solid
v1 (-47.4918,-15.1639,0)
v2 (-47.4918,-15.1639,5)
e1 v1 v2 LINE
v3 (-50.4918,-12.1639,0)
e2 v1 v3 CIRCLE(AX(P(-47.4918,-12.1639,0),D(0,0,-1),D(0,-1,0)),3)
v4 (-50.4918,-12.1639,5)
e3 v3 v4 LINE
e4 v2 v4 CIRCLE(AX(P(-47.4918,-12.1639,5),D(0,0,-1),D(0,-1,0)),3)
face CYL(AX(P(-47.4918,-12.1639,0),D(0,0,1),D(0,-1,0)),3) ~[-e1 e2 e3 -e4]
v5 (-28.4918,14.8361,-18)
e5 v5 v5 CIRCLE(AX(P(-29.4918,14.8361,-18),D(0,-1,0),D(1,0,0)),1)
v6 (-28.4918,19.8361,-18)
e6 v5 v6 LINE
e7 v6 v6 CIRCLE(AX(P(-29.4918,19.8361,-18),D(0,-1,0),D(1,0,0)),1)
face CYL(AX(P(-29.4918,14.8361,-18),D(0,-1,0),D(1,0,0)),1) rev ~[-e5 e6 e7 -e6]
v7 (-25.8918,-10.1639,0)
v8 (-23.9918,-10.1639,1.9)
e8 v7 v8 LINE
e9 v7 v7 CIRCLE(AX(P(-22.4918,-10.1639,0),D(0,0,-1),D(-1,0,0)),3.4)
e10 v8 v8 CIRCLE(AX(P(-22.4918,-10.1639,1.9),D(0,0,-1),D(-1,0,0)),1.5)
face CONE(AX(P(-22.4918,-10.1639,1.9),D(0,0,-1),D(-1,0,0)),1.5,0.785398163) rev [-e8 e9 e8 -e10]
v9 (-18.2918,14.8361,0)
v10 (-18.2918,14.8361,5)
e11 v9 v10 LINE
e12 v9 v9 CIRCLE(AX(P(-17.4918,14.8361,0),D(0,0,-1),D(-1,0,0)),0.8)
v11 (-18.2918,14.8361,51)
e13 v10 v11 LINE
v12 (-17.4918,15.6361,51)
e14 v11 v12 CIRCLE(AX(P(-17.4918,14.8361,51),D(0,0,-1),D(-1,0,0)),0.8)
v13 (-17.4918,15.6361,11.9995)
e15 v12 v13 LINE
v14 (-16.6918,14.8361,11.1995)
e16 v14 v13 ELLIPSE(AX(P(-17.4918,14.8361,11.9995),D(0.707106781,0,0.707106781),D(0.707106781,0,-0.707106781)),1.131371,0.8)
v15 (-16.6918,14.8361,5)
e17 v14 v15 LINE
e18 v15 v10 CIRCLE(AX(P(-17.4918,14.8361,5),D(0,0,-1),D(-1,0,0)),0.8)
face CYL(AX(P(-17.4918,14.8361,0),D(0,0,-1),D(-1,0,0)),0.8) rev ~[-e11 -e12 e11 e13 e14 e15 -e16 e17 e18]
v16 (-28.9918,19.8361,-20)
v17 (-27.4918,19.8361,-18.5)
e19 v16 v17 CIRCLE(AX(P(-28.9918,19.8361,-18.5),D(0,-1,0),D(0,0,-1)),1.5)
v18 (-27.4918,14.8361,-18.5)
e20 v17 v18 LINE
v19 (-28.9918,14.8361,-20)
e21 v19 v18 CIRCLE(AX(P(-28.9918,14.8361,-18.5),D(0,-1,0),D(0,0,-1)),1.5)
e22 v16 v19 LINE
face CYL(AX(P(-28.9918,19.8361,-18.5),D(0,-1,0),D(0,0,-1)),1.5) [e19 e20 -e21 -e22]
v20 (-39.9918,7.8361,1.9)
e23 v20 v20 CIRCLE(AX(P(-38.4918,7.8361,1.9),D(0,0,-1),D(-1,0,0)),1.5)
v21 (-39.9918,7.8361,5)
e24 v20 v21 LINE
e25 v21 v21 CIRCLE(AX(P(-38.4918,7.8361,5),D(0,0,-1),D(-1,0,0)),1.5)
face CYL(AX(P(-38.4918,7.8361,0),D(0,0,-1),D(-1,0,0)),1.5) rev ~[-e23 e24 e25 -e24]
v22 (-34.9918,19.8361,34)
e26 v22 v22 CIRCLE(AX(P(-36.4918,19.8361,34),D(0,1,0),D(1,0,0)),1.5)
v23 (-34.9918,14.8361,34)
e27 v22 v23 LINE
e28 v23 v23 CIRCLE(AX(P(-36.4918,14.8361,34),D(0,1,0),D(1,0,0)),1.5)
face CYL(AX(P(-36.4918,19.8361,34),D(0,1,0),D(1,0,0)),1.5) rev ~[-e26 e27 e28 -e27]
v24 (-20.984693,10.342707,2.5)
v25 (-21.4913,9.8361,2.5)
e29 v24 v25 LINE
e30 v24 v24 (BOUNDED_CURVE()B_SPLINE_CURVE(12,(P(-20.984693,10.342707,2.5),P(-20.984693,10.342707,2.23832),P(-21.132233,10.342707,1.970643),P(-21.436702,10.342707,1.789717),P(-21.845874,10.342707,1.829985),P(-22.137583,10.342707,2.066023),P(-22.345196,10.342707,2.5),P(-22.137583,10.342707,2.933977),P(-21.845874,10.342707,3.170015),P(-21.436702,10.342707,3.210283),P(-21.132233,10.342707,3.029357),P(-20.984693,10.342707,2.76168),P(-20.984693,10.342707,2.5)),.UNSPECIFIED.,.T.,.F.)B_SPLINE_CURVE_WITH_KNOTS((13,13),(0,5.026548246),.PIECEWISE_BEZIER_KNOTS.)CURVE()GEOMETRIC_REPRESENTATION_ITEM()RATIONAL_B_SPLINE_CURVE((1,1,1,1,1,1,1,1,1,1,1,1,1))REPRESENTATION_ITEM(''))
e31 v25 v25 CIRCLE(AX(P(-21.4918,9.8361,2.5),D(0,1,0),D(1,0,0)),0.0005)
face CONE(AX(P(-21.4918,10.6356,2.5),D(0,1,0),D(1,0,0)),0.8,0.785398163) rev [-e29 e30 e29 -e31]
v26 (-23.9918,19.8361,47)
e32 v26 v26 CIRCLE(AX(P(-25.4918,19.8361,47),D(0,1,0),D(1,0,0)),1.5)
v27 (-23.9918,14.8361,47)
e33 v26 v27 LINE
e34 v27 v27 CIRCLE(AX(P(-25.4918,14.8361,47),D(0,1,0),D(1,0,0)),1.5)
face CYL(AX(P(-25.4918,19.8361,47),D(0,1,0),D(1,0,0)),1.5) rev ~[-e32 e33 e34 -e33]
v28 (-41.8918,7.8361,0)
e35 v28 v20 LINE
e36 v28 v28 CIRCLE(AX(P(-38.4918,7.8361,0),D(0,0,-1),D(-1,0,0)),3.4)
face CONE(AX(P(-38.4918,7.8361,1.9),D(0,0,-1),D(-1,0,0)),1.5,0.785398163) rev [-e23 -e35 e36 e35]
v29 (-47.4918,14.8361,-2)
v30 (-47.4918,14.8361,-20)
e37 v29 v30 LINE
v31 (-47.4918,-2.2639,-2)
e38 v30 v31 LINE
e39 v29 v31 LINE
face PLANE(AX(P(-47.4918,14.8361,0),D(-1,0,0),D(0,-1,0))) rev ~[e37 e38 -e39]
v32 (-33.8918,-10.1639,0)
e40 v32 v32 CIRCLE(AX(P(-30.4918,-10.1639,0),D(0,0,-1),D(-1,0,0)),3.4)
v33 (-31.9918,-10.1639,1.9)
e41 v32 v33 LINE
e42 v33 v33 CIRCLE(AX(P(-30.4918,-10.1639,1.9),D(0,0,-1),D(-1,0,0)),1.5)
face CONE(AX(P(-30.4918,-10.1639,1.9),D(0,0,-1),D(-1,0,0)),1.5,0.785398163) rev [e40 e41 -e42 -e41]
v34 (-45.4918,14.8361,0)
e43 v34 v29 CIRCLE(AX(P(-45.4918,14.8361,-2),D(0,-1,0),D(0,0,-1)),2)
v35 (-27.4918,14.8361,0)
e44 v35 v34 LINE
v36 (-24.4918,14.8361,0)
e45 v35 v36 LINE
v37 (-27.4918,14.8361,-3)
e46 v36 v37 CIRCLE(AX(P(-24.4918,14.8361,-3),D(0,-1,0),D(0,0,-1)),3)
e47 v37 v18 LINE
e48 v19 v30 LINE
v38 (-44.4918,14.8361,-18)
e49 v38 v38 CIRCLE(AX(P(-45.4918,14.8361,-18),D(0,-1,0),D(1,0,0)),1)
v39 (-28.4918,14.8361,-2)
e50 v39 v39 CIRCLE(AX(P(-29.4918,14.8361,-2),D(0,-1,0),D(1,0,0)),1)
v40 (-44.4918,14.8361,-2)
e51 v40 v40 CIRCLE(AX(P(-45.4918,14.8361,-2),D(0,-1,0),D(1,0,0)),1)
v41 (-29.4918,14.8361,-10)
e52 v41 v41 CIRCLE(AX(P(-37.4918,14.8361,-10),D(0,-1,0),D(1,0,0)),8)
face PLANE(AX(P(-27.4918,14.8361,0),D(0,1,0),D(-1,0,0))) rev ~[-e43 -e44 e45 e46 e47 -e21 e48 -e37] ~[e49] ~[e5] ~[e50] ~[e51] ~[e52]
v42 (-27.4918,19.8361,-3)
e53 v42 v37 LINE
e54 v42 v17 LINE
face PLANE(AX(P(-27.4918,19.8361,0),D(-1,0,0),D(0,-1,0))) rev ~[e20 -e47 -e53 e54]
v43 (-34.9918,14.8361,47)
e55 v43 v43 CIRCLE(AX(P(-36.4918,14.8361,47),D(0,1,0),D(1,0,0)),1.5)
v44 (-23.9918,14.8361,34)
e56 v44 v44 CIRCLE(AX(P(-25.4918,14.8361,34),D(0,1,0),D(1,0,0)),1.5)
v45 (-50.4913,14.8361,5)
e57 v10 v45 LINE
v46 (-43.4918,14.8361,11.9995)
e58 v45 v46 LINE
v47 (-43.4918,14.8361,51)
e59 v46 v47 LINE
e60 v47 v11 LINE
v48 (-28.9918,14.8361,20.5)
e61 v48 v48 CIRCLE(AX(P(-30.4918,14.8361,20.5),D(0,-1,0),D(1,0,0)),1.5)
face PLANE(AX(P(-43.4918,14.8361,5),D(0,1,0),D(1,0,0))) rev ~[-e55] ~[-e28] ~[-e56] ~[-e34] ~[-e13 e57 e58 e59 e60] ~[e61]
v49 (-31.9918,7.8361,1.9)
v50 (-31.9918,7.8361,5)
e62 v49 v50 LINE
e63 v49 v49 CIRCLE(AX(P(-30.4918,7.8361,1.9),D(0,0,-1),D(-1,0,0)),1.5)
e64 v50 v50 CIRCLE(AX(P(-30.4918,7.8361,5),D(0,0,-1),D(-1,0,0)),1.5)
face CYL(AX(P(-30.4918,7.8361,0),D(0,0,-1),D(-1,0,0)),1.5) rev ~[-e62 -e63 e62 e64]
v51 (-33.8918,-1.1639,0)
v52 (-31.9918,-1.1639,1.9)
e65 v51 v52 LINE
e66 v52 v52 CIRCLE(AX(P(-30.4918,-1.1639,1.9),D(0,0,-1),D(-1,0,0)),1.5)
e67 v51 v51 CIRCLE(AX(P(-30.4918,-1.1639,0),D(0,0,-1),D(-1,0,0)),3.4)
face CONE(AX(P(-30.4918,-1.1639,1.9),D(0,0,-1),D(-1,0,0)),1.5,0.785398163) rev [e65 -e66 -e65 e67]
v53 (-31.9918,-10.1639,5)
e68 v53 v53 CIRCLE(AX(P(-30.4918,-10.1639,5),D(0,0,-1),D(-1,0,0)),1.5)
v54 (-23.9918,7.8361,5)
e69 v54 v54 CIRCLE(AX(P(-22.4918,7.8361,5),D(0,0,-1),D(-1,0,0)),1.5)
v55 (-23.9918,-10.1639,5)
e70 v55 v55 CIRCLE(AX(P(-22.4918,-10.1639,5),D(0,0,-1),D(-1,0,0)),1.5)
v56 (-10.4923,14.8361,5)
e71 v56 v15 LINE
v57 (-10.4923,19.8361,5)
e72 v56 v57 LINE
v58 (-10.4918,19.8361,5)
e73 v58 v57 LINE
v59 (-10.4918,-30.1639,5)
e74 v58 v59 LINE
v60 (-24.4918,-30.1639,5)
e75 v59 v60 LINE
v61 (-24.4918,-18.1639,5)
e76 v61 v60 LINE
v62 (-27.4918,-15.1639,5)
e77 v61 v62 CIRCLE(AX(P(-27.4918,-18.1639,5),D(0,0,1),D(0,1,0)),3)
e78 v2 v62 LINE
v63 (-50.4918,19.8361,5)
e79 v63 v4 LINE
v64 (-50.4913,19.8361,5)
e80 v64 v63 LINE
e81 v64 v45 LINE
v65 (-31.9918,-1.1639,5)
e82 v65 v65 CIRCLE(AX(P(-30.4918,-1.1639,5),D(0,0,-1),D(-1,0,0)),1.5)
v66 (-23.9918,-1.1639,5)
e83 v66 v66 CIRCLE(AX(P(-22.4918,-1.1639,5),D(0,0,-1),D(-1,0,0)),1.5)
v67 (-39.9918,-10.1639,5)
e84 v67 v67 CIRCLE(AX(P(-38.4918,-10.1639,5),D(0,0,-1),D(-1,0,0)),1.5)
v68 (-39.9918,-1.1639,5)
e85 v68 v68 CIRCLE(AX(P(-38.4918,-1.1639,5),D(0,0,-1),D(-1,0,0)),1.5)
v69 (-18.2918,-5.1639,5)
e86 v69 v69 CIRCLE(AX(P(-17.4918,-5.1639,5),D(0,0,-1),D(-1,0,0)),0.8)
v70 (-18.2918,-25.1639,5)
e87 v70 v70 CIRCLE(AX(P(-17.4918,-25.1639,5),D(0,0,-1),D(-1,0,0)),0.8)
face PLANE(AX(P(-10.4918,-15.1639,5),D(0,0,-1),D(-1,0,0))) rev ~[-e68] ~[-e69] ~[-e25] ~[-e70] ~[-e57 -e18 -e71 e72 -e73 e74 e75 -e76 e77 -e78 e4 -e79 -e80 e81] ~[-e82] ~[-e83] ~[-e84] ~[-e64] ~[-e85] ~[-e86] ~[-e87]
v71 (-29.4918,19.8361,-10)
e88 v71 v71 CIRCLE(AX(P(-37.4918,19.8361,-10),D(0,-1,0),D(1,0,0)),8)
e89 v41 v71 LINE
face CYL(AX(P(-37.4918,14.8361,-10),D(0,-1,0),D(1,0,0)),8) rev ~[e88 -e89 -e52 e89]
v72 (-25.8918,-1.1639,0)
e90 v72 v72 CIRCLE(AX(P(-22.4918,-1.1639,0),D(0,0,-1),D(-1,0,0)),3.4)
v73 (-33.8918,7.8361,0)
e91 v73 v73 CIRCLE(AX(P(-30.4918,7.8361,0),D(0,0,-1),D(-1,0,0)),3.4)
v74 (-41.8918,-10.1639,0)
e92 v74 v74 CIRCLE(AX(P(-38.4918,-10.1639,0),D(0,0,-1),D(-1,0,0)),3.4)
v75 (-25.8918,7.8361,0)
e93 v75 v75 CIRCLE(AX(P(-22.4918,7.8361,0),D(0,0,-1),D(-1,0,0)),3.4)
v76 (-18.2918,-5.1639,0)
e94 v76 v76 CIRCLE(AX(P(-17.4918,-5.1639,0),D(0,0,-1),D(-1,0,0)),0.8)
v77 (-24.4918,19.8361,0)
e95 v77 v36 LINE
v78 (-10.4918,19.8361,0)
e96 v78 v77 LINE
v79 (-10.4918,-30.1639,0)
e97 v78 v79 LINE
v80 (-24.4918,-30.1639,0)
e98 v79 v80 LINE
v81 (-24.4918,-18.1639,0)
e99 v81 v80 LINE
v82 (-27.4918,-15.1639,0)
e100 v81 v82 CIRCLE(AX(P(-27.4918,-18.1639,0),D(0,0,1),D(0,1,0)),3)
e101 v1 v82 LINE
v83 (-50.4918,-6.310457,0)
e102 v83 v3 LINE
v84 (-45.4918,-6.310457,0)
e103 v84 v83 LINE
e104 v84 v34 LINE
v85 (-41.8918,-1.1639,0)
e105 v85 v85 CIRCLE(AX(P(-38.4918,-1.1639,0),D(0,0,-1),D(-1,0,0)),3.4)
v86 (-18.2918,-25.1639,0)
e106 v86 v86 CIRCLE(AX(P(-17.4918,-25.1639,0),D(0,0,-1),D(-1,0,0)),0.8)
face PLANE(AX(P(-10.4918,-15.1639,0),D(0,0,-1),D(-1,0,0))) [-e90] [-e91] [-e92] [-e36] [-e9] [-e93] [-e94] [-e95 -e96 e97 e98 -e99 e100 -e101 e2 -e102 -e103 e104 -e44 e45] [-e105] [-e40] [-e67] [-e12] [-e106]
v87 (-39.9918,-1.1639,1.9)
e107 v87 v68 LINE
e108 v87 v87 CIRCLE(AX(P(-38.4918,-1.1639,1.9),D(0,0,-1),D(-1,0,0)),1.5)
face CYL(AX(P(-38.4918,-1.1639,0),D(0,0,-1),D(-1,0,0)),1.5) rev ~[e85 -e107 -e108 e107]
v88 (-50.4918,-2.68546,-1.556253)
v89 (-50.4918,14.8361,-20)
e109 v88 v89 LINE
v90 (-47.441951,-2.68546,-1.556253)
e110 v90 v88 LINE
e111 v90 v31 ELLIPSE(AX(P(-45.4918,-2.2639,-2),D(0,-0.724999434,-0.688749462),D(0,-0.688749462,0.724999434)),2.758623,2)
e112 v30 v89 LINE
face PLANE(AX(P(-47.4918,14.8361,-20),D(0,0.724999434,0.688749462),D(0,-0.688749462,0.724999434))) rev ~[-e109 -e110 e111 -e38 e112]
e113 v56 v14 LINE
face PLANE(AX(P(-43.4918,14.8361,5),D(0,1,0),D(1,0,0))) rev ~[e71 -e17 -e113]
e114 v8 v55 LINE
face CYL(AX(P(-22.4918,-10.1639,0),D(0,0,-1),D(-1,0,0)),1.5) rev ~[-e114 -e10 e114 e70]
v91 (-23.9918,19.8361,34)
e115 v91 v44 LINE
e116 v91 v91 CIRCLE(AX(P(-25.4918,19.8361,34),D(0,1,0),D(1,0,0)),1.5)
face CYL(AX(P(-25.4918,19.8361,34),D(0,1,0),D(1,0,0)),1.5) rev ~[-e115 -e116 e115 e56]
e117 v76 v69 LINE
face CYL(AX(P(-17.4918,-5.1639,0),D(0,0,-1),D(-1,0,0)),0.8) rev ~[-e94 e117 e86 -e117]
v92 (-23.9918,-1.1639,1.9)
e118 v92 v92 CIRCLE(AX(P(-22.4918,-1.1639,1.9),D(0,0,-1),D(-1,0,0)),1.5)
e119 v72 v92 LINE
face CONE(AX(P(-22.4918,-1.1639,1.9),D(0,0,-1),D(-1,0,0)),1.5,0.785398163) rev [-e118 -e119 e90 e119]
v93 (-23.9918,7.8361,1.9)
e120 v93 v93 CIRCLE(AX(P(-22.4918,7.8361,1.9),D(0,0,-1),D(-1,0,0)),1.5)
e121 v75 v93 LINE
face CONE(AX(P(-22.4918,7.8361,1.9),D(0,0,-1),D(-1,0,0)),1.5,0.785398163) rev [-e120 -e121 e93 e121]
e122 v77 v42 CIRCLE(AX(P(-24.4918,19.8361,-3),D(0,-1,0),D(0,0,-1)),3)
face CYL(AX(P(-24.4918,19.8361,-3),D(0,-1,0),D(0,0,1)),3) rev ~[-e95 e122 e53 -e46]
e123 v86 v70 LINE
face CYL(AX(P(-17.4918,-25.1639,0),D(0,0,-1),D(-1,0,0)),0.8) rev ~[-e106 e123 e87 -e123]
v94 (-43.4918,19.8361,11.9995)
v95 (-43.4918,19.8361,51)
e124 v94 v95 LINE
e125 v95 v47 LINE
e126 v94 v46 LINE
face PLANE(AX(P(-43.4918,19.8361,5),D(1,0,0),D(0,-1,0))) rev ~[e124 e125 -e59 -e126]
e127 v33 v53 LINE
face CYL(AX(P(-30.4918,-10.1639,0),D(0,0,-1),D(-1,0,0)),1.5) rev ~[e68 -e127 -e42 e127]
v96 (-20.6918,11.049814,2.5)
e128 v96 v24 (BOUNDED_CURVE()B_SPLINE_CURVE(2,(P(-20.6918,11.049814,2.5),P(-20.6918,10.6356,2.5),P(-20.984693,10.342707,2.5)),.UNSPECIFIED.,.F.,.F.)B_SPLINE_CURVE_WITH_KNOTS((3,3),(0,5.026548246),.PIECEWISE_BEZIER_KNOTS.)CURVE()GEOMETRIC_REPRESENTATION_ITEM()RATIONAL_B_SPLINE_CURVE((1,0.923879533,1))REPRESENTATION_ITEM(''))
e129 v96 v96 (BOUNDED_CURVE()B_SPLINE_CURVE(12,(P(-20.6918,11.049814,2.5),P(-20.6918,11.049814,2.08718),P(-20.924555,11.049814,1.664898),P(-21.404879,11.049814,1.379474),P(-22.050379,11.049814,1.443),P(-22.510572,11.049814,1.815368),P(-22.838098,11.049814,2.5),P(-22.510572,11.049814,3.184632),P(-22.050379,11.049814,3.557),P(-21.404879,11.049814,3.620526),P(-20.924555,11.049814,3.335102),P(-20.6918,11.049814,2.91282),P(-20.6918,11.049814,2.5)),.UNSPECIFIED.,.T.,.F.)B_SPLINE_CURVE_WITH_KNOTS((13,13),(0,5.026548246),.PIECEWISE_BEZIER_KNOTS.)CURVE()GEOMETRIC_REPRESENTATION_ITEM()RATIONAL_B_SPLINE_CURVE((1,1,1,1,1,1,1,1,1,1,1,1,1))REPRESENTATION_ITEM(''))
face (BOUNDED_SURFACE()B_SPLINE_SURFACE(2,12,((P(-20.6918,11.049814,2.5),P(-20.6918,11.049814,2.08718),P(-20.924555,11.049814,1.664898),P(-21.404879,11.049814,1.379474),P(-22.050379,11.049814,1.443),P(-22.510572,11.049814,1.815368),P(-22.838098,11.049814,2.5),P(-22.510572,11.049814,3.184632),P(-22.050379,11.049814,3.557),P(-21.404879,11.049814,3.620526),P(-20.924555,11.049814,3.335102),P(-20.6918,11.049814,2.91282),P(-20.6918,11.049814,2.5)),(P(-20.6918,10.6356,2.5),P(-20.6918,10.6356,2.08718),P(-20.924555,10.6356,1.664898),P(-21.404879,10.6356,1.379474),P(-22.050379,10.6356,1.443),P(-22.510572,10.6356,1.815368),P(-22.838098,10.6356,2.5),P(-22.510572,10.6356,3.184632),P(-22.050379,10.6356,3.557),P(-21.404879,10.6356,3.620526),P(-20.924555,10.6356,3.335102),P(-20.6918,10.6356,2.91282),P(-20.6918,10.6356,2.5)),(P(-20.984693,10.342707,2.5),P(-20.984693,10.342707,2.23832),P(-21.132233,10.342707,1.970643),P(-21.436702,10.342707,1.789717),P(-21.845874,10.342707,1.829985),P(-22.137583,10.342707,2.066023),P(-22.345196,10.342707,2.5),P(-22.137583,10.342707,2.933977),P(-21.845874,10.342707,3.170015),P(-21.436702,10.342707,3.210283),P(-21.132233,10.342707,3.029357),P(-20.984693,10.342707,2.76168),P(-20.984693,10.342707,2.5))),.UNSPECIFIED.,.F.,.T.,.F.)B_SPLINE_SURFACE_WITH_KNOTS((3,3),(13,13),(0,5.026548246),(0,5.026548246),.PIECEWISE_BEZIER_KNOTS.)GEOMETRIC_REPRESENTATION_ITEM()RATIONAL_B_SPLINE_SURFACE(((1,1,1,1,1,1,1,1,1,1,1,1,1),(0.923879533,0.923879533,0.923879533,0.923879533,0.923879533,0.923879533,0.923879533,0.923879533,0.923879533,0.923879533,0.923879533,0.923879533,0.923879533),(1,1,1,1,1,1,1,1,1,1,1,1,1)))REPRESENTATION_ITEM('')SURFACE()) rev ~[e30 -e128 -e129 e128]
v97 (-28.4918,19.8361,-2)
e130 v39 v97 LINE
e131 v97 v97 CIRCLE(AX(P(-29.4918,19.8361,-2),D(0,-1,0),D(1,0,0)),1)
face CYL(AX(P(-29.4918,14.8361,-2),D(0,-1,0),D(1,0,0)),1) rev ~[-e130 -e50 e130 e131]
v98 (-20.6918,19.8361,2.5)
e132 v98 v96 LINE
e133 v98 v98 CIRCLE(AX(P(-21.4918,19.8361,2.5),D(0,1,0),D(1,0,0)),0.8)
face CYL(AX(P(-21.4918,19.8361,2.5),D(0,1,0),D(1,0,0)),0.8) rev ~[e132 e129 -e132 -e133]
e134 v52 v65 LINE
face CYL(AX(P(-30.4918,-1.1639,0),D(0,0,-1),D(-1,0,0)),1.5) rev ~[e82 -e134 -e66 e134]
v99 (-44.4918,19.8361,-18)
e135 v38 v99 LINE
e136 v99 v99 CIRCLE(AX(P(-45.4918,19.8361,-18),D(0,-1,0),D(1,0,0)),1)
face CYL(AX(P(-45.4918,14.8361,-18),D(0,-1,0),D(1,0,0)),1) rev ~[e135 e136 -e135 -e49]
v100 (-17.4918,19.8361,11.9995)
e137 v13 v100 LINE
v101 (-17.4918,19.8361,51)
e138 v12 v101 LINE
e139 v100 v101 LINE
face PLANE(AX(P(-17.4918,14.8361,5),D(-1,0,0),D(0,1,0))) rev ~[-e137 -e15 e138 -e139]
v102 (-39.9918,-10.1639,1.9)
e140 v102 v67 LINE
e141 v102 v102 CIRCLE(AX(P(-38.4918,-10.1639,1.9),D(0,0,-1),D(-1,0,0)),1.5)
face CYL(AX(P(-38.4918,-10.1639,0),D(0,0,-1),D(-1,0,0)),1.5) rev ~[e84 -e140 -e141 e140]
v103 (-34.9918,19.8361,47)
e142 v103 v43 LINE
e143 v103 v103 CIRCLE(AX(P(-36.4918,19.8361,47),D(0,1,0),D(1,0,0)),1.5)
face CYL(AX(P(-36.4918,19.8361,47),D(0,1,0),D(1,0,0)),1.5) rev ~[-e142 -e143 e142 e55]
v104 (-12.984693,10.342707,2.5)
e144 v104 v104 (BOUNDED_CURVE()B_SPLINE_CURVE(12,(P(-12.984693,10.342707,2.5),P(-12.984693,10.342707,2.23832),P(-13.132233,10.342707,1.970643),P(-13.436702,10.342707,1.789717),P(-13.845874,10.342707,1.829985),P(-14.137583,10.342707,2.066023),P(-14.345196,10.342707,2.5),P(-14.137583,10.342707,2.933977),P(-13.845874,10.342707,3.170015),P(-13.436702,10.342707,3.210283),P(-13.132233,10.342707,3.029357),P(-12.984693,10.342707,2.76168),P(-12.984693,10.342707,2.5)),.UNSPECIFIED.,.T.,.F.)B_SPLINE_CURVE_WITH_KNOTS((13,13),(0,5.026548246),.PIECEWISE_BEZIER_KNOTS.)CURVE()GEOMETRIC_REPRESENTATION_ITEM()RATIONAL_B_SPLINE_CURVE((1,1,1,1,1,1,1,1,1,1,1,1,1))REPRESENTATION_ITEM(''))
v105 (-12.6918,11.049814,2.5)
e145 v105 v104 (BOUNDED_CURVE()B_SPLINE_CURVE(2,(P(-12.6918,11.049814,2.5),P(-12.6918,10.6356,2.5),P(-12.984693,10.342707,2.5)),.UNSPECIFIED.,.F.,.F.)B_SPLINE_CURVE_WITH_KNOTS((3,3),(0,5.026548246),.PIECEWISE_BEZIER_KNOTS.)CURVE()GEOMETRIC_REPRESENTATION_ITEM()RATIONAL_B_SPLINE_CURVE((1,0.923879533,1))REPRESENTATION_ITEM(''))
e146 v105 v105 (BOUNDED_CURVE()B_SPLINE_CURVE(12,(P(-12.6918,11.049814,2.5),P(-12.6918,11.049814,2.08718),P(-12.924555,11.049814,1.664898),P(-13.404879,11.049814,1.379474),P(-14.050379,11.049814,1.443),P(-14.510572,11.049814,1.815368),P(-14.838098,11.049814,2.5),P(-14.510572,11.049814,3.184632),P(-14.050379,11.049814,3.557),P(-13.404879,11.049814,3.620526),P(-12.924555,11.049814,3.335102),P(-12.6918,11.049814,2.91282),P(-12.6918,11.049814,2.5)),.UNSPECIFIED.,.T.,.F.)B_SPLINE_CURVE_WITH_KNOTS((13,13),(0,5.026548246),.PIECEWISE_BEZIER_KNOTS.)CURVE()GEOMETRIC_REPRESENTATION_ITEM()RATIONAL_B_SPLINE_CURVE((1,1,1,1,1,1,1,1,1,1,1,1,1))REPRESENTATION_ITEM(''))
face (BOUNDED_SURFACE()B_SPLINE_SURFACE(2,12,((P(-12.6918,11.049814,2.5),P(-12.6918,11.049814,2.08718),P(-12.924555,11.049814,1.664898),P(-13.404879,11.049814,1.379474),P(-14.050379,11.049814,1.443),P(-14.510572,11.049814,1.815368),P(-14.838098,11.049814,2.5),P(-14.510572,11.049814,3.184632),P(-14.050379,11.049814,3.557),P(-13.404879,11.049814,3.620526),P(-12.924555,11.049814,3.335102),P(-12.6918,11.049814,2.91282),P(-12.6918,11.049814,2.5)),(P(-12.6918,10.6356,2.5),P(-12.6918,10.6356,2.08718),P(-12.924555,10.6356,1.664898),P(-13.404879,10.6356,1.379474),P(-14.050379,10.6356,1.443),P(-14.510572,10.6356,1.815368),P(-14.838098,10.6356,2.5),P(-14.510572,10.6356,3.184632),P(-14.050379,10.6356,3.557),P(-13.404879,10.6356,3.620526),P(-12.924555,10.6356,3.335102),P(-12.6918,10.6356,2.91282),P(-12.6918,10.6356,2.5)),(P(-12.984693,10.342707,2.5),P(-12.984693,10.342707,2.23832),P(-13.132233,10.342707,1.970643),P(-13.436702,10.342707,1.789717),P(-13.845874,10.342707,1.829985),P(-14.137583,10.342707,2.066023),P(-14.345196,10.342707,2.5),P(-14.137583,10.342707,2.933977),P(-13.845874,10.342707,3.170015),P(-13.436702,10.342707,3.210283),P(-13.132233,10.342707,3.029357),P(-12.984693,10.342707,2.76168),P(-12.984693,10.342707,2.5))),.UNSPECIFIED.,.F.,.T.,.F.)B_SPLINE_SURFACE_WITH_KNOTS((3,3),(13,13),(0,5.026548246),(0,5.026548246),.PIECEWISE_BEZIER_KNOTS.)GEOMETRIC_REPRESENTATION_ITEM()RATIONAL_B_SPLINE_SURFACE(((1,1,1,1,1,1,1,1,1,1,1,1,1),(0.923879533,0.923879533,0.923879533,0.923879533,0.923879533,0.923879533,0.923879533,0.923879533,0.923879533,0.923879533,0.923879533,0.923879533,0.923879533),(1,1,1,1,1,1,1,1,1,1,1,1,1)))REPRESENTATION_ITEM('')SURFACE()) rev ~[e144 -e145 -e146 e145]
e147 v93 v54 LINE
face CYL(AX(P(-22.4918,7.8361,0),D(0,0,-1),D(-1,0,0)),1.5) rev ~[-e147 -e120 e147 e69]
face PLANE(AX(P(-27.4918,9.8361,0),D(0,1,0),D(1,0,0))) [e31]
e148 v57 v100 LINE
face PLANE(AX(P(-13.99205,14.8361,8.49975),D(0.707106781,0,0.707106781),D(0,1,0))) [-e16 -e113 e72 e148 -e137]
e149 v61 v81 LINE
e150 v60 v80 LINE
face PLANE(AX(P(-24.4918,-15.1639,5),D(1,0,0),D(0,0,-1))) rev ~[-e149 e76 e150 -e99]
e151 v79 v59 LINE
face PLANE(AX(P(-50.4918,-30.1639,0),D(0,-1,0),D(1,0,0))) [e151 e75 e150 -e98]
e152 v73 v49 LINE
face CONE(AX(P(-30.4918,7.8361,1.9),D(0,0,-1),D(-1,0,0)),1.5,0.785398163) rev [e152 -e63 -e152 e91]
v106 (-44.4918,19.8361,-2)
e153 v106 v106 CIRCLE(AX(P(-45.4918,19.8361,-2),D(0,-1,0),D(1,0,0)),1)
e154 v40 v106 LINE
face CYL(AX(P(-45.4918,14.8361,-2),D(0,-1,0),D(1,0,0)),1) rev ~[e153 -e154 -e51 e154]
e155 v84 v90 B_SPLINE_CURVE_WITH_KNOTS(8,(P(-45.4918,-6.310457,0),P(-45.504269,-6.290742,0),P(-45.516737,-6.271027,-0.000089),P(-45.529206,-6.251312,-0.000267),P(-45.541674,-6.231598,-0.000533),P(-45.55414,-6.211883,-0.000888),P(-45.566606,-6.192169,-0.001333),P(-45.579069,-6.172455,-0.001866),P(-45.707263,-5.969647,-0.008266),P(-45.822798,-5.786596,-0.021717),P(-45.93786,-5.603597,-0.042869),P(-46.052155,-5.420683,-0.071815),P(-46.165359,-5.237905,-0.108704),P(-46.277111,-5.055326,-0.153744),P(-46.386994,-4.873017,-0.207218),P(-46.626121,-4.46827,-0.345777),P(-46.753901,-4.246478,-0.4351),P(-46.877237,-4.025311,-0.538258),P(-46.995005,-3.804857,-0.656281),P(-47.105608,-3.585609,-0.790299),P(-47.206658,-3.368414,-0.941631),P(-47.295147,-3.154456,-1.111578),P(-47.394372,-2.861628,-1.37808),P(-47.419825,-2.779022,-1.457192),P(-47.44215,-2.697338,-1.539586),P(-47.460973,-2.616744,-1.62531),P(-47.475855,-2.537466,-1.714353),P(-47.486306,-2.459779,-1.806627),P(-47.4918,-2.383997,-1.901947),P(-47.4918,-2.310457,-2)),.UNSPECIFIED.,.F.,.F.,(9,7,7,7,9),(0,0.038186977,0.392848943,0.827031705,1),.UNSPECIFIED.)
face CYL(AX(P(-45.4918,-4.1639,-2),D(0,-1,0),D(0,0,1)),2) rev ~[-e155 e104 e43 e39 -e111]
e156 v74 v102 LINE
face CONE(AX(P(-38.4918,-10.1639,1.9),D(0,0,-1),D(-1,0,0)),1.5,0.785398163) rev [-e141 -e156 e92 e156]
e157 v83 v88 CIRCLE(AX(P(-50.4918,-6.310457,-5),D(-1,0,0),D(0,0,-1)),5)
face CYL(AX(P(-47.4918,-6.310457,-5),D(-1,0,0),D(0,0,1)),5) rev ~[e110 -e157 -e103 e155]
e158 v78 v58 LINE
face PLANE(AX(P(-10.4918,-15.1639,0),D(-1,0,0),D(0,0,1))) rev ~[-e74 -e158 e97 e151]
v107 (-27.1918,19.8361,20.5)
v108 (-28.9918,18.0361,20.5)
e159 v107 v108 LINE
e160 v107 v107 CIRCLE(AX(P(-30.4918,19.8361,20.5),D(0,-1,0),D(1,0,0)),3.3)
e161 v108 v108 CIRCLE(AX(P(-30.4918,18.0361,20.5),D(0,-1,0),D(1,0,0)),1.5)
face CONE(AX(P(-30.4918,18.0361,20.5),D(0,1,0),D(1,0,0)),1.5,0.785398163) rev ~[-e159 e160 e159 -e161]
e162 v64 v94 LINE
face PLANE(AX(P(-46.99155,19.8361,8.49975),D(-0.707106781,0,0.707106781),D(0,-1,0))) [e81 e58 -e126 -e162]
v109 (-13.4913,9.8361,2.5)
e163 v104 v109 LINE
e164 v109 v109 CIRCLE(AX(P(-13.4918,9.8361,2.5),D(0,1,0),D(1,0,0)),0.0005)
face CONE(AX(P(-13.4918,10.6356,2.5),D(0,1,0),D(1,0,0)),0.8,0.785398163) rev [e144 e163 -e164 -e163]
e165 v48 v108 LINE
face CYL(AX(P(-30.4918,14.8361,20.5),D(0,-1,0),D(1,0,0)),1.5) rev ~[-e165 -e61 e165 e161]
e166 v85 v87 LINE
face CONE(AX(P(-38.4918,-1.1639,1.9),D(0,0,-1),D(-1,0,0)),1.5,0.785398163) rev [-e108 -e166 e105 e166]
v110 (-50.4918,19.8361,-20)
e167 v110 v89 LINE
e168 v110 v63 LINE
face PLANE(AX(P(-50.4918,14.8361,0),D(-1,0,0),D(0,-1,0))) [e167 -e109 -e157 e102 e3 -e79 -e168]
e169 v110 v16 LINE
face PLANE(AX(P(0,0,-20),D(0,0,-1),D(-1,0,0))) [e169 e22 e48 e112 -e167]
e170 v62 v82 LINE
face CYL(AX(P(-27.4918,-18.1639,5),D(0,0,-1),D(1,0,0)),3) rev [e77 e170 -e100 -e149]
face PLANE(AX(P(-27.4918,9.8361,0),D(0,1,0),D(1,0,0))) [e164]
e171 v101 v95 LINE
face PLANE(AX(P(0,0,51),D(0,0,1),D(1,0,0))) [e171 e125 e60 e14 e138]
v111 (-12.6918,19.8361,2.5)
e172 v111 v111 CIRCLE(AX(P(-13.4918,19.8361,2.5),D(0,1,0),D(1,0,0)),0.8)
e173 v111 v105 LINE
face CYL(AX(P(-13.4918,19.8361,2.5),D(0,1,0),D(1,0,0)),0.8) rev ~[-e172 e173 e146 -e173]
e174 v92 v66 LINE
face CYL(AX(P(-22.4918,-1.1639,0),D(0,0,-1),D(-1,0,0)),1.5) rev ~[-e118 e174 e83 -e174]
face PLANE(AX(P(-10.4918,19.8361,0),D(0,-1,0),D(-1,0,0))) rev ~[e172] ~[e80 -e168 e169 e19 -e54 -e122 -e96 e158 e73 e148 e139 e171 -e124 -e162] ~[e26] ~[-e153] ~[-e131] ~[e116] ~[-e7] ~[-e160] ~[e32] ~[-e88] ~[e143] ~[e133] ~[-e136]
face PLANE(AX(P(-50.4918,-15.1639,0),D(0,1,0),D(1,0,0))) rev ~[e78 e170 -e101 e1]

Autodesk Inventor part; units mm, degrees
ref_plane "YZ Plane" through (0, 0, 0) normal (1, 0, 0) x (0, 1, 0)
ref_plane "XZ Plane" through (0, 0, 0) normal (0, 1, 0) x (-1, 0, 0)
ref_plane "XY Plane" through (0, 0, 0) normal (0, 0, 1) x (1, 0, 0)
sketch "Sketch1" plane through (0, 0, 0) normal (0, 0, 1) x (1, 0, 0)
  line L0 (-10.4918, 19.8361) -> (-50.4918, 19.8361)
  line L1 (-50.4918, 19.8361) -> (-50.4918, -15.1639)
  line L2 (-50.4918, -15.1639) -> (-10.4918, -15.1639)
  line L3 (-10.4918, -15.1639) -> (-10.4918, 19.8361)
  point P0 (0, 0)
  dimension "d0" = 40
  dimension "d1" = 35
extrude "Extrusion1" add sketch "Sketch1" along normal blind 5
sketch "Sketch2" plane through (0, 0, 0) normal (0, 0, -1) x (-1, 0, 0)
  line L0 (50.4918, 19.8361) -> (50.4918, -15.1639) projected
  line L1 (50.4918, 19.8361) -> (27.4918, 19.8361)
  line L2 (27.4918, 19.8361) -> (27.4918, 14.8361)
  line L3 (27.4918, 14.8361) -> (50.4918, 14.8361)
  line L4 (50.4918, 14.8361) -> (50.4918, 19.8361)
  point P0 (0, 0)
  point P1 (50.4918, 14.8361)
  dimension "d4" = 23
  dimension "d5" = 5
extrude "Extrusion2" add sketch "Sketch2" along normal blind 20
sketch "Sketch3" plane through (0, 0, 0) normal (0, 0, -1) x (-1, 0, 0)
  line L0 (27.4918, 14.8361) -> (50.4918, 14.8361) projected
  line L1 (50.4918, 19.8361) -> (50.4918, -15.1639) projected
  line L2 (50.4918, 15.8361) -> (47.4918, 15.8361)
  line L3 (47.4918, 15.8361) -> (47.4918, -4.1639)
  line L4 (47.4918, -4.1639) -> (50.4918, -4.1639)
  line L5 (50.4918, -4.1639) -> (50.4918, 15.8361)
  point P0 (0, 0)
  point P1 (47.4918, 14.8361)
  dimension "d8" = 20
  dimension "d9" = 3
extrude "Extrusion3" add sketch "Sketch3" along normal blind 20 contours L0 L1 L4 L3
sketch "Sketch4" plane through (-27.4918, 14.8361, -20) normal (0, -1, 0) x (1, 0, 0)
  circle A0 centre (-10, 10) radius 8
  line L0 (0, 0) -> (-20, 0) projected
  line L1 (0, 20) -> (0, 0) projected
  circle A1 centre (-2, 2) radius 1
  circle A2 centre (-18, 2) radius 1
  circle A3 centre (-18, 18) radius 1
  circle A4 centre (-2, 18) radius 1
  point P0 (27.4918, 20)
  dimension "d12" = 16
  dimension "d13" = 10
  dimension "d14" = 10
  dimension "d15" = 2
  dimension "d16" = 2
  dimension "d17" = 2
  dimension "d18" = 2
  dimension "d19" = 8
  dimension "d20" = 8
  dimension "d21" = 8
  dimension "d22" = 8
  dimension "d23" = 8
  dimension "d24" = 8
  dimension "d25" = 8
  dimension "d26" = 8
extrude "Extrusion4" cut sketch "Sketch4" against normal through all
fillet "Fillet1" radius 1.5 1 edges at (-27.4918, 17.3361, -20)
sketch "Sketch5" plane through (-47.4918, -4.1639, 0) normal (1, 0, 0) x (0, 0, -1)
  line L0 (20, 19) -> (20, 0) projected
  line L1 (0, 0) -> (20, 0) projected
  line L2 (20, 19) -> (0, 0)
  line L3 (0, 0) -> (20, 0)
  line L4 (20, 0) -> (20, 19)
  point P0 (0, 4.1639)
extrude "Extrusion5" cut sketch "Sketch5" against normal through all
fillet "Fillet2" radius 5 1 edges at (-48.9918, -4.1639, 0)
fillet "Fillet4" radius 2 1 edges at (-47.4918, 5.3361, 0)
sketch "Sketch6" plane through (0, 0, 5) normal (0, 0, 1) x (1, 0, 0)
  line L0 (-10.4918, 19.8361) -> (-50.4918, 19.8361) projected
  line L1 (-17.4918, 19.8361) -> (-43.4918, 19.8361)
  line L2 (-43.4918, 19.8361) -> (-43.4918, 14.8361)
  line L3 (-43.4918, 14.8361) -> (-17.4918, 14.8361)
  line L4 (-17.4918, 14.8361) -> (-17.4918, 19.8361)
  line L5 (-10.4918, -15.1639) -> (-10.4918, 19.8361) projected
  line L6 (-50.4918, 19.8361) -> (-50.4918, -15.1639) projected
  point P0 (0, 0)
  dimension "d39" = 5
  dimension "d40" = 7
  dimension "d41" = 7
extrude "Extrusion6" add sketch "Sketch6" along normal blind 46
chamfer "Chamfer2" distance 7 angle 45 2 edges at (-17.4918, 17.3361, 5) (-43.4918, 17.3361, 5)
sketch "Sketch7" plane through (-43.4918, 14.8361, 51) normal (0, -1, 0) x (1, 0, 0)
  circle A0 centre (13, -30.5) radius 1.5
  line L0 (-7, -46) -> (33, -46) projected
  line L1 (26, -39) -> (26, 0) projected
  point P0 (43.4918, -51)
  dimension "d47" = 3
  dimension "d48" = 15.5
  dimension "d49" = 13
extrude "Extrusion7" cut sketch "Sketch7" against normal through all
chamfer "Chamfer3" distance 1.8 angle 45 1 edges at (-31.9918, 19.8361, 20.5)
sketch "Sketch8" plane through (-27.4918, 19.8361, 0) normal (0, 1, 0) x (1, 0, 0)
  circle A0 centre (14, -2.5) radius 0.8
  circle A1 centre (6, -2.5) radius 0.8
  line L0 (17, 0) -> (0, 0) projected
  line L1 (17, 0) -> (17, -5) projected
  point P0 (27.4918, 0)
  dimension "d55" = 1.6
  dimension "d56" = 1.6
  dimension "d57" = 2.5
  dimension "d58" = 2.5
  dimension "d59" = 3
  dimension "d60" = 8
extrude "Extrusion8" cut sketch "Sketch8" against normal blind 10
chamfer "Chamfer4" distance 0.8 angle 45 2 edges at (-14.2918, 9.8361, 2.5) (-22.2918, 9.8361, 2.5)
fillet "Fillet5" radius 1 2 edges at (-14.2918, 10.6356, 2.5) (-22.2918, 10.6356, 2.5)
sketch "Sketch9" plane through (-50.4918, -15.1639, 0) normal (0, -1, 0) x (1, 0, 0)
  line L0 (40, 0) -> (40, 5) projected
  line L1 (40, 0) -> (23, 0) projected
  line L2 (40, 5) -> (26, 5)
  line L3 (26, 5) -> (26, 0)
  line L4 (26, 0) -> (40, 0)
  line L5 (40, 0) -> (40, 5)
  point P0 (50.4918, 0)
  dimension "d67" = 14
extrude "Extrusion9" add sketch "Sketch9" along normal blind 15
sketch "Sketch10" plane through (0, 0, 0) normal (0, 0, -1) x (-1, 0, 0)
  circle A0 centre (17.4918, -25.1639) radius 0.8
  line L0 (10.4918, 19.8361) -> (10.4918, -30.1639) projected
  line L1 (24.4918, -30.1639) -> (10.4918, -30.1639) projected
  circle A1 centre (17.4918, -5.1639) radius 0.8
  circle A2 centre (17.4918, 14.8361) radius 0.8
  point P0 (0, 0)
  dimension "d70" = 1.6
  dimension "d71" = 7
  dimension "d72" = 5
  dimension "d75" = 20
extrude "Extrusion10" cut sketch "Sketch10" against normal through all
fillet "Fillet6" radius 3 2 edges at (-50.4918, -15.1639, 2.5) (-24.4918, -15.1639, 2.5)
sketch "Sketch11" plane through (0, 0, 0) normal (0, 0, -1) x (-1, 0, 0)
  circle A0 centre (38.4918, -10.1639) radius 1.5
  circle A1 centre (30.4918, -10.1639) radius 1.5
  circle A2 centre (30.4918, -1.1639) radius 1.5
  circle A3 centre (38.4918, -1.1639) radius 1.5
  circle A4 centre (38.4918, 7.8361) radius 1.5
  circle A5 centre (30.4918, 7.8361) radius 1.5
  line L0 (47.4918, -15.1639) -> (27.4918, -15.1639) projected
  line L1 (50.4918, -6.3105) -> (50.4918, -12.1639) projected
  circle A6 centre (22.4918, -10.1639) radius 1.5
  circle A7 centre (22.4918, -1.1639) radius 1.5
  circle A8 centre (22.4918, 7.8361) radius 1.5
  point P0 (0, 0)
  point P1 (37.4918, -15.1639)
  dimension "d89" = 3
  dimension "d90" = 3
  dimension "d91" = 3
  dimension "d92" = 3
  dimension "d93" = 3
  dimension "d94" = 3
  dimension "d95" = 5
  dimension "d96" = 5
  dimension "d97" = 8
  dimension "d98" = 12
  dimension "d99" = 12
  dimension "d100" = 12
  dimension "d101" = 9
  dimension "d102" = 9
  dimension "d103" = 9
  dimension "d104" = 8
  dimension "d105" = 9
  dimension "d106" = 8
  dimension "d109" = 8
  dimension "d110" = 3
  dimension "d111" = 5
  dimension "d112" = 9
  dimension "d113" = 9
  dimension "d114" = 3
  dimension "d115" = 3
  dimension "d116" = 8
  dimension "d117" = 8
extrude "Extrusion11" cut sketch "Sketch11" against normal through all
chamfer "Chamfer7" distance 1.9 angle 45 9 edges at (-20.9918, 7.8361, 0) (-20.9918, -1.1639, 0) (-20.9918, -10.1639, 0) (-28.9918, -10.1639, 0) (-28.9918, -1.1639, 0) (-28.9918, 7.8361, 0) (-36.9918, 7.8361, 0) (-36.9918, -1.1639, 0) (-36.9918, -10.1639, 0)
sketch "Sketch12" plane through (-27.4918, 19.8361, 0) normal (0, 1, 0) x (1, 0, 0)
  circle A0 centre (2, -34) radius 1.5
  circle A1 centre (2, -47) radius 1.5
  circle A2 centre (-9, -34) radius 1.5
  circle A3 centre (-9, -47) radius 1.5
  line L0 (10, -51) -> (-16, -51) projected
  line L1 (10, -12) -> (10, -51) projected
  line L2 (-16, -12) -> (-16, -51) projected
  point P0 (27.4918, 0)
  dimension "d121" = 3
  dimension "d122" = 3
  dimension "d123" = 3
  dimension "d124" = 3
  dimension "d125" = 17
  dimension "d126" = 17
  dimension "d127" = 8
  dimension "d128" = 8
  dimension "d129" = 7
  dimension "d130" = 7
  dimension "d131" = 4
  dimension "d132" = 4
extrude "Extrusion12" cut sketch "Sketch12" against normal through all
fillet "Fillet7" radius 3 1 edges at (-27.4918, 17.3361, 0)
properties part number "Motor_holder_R" material "ABS Plastic"
